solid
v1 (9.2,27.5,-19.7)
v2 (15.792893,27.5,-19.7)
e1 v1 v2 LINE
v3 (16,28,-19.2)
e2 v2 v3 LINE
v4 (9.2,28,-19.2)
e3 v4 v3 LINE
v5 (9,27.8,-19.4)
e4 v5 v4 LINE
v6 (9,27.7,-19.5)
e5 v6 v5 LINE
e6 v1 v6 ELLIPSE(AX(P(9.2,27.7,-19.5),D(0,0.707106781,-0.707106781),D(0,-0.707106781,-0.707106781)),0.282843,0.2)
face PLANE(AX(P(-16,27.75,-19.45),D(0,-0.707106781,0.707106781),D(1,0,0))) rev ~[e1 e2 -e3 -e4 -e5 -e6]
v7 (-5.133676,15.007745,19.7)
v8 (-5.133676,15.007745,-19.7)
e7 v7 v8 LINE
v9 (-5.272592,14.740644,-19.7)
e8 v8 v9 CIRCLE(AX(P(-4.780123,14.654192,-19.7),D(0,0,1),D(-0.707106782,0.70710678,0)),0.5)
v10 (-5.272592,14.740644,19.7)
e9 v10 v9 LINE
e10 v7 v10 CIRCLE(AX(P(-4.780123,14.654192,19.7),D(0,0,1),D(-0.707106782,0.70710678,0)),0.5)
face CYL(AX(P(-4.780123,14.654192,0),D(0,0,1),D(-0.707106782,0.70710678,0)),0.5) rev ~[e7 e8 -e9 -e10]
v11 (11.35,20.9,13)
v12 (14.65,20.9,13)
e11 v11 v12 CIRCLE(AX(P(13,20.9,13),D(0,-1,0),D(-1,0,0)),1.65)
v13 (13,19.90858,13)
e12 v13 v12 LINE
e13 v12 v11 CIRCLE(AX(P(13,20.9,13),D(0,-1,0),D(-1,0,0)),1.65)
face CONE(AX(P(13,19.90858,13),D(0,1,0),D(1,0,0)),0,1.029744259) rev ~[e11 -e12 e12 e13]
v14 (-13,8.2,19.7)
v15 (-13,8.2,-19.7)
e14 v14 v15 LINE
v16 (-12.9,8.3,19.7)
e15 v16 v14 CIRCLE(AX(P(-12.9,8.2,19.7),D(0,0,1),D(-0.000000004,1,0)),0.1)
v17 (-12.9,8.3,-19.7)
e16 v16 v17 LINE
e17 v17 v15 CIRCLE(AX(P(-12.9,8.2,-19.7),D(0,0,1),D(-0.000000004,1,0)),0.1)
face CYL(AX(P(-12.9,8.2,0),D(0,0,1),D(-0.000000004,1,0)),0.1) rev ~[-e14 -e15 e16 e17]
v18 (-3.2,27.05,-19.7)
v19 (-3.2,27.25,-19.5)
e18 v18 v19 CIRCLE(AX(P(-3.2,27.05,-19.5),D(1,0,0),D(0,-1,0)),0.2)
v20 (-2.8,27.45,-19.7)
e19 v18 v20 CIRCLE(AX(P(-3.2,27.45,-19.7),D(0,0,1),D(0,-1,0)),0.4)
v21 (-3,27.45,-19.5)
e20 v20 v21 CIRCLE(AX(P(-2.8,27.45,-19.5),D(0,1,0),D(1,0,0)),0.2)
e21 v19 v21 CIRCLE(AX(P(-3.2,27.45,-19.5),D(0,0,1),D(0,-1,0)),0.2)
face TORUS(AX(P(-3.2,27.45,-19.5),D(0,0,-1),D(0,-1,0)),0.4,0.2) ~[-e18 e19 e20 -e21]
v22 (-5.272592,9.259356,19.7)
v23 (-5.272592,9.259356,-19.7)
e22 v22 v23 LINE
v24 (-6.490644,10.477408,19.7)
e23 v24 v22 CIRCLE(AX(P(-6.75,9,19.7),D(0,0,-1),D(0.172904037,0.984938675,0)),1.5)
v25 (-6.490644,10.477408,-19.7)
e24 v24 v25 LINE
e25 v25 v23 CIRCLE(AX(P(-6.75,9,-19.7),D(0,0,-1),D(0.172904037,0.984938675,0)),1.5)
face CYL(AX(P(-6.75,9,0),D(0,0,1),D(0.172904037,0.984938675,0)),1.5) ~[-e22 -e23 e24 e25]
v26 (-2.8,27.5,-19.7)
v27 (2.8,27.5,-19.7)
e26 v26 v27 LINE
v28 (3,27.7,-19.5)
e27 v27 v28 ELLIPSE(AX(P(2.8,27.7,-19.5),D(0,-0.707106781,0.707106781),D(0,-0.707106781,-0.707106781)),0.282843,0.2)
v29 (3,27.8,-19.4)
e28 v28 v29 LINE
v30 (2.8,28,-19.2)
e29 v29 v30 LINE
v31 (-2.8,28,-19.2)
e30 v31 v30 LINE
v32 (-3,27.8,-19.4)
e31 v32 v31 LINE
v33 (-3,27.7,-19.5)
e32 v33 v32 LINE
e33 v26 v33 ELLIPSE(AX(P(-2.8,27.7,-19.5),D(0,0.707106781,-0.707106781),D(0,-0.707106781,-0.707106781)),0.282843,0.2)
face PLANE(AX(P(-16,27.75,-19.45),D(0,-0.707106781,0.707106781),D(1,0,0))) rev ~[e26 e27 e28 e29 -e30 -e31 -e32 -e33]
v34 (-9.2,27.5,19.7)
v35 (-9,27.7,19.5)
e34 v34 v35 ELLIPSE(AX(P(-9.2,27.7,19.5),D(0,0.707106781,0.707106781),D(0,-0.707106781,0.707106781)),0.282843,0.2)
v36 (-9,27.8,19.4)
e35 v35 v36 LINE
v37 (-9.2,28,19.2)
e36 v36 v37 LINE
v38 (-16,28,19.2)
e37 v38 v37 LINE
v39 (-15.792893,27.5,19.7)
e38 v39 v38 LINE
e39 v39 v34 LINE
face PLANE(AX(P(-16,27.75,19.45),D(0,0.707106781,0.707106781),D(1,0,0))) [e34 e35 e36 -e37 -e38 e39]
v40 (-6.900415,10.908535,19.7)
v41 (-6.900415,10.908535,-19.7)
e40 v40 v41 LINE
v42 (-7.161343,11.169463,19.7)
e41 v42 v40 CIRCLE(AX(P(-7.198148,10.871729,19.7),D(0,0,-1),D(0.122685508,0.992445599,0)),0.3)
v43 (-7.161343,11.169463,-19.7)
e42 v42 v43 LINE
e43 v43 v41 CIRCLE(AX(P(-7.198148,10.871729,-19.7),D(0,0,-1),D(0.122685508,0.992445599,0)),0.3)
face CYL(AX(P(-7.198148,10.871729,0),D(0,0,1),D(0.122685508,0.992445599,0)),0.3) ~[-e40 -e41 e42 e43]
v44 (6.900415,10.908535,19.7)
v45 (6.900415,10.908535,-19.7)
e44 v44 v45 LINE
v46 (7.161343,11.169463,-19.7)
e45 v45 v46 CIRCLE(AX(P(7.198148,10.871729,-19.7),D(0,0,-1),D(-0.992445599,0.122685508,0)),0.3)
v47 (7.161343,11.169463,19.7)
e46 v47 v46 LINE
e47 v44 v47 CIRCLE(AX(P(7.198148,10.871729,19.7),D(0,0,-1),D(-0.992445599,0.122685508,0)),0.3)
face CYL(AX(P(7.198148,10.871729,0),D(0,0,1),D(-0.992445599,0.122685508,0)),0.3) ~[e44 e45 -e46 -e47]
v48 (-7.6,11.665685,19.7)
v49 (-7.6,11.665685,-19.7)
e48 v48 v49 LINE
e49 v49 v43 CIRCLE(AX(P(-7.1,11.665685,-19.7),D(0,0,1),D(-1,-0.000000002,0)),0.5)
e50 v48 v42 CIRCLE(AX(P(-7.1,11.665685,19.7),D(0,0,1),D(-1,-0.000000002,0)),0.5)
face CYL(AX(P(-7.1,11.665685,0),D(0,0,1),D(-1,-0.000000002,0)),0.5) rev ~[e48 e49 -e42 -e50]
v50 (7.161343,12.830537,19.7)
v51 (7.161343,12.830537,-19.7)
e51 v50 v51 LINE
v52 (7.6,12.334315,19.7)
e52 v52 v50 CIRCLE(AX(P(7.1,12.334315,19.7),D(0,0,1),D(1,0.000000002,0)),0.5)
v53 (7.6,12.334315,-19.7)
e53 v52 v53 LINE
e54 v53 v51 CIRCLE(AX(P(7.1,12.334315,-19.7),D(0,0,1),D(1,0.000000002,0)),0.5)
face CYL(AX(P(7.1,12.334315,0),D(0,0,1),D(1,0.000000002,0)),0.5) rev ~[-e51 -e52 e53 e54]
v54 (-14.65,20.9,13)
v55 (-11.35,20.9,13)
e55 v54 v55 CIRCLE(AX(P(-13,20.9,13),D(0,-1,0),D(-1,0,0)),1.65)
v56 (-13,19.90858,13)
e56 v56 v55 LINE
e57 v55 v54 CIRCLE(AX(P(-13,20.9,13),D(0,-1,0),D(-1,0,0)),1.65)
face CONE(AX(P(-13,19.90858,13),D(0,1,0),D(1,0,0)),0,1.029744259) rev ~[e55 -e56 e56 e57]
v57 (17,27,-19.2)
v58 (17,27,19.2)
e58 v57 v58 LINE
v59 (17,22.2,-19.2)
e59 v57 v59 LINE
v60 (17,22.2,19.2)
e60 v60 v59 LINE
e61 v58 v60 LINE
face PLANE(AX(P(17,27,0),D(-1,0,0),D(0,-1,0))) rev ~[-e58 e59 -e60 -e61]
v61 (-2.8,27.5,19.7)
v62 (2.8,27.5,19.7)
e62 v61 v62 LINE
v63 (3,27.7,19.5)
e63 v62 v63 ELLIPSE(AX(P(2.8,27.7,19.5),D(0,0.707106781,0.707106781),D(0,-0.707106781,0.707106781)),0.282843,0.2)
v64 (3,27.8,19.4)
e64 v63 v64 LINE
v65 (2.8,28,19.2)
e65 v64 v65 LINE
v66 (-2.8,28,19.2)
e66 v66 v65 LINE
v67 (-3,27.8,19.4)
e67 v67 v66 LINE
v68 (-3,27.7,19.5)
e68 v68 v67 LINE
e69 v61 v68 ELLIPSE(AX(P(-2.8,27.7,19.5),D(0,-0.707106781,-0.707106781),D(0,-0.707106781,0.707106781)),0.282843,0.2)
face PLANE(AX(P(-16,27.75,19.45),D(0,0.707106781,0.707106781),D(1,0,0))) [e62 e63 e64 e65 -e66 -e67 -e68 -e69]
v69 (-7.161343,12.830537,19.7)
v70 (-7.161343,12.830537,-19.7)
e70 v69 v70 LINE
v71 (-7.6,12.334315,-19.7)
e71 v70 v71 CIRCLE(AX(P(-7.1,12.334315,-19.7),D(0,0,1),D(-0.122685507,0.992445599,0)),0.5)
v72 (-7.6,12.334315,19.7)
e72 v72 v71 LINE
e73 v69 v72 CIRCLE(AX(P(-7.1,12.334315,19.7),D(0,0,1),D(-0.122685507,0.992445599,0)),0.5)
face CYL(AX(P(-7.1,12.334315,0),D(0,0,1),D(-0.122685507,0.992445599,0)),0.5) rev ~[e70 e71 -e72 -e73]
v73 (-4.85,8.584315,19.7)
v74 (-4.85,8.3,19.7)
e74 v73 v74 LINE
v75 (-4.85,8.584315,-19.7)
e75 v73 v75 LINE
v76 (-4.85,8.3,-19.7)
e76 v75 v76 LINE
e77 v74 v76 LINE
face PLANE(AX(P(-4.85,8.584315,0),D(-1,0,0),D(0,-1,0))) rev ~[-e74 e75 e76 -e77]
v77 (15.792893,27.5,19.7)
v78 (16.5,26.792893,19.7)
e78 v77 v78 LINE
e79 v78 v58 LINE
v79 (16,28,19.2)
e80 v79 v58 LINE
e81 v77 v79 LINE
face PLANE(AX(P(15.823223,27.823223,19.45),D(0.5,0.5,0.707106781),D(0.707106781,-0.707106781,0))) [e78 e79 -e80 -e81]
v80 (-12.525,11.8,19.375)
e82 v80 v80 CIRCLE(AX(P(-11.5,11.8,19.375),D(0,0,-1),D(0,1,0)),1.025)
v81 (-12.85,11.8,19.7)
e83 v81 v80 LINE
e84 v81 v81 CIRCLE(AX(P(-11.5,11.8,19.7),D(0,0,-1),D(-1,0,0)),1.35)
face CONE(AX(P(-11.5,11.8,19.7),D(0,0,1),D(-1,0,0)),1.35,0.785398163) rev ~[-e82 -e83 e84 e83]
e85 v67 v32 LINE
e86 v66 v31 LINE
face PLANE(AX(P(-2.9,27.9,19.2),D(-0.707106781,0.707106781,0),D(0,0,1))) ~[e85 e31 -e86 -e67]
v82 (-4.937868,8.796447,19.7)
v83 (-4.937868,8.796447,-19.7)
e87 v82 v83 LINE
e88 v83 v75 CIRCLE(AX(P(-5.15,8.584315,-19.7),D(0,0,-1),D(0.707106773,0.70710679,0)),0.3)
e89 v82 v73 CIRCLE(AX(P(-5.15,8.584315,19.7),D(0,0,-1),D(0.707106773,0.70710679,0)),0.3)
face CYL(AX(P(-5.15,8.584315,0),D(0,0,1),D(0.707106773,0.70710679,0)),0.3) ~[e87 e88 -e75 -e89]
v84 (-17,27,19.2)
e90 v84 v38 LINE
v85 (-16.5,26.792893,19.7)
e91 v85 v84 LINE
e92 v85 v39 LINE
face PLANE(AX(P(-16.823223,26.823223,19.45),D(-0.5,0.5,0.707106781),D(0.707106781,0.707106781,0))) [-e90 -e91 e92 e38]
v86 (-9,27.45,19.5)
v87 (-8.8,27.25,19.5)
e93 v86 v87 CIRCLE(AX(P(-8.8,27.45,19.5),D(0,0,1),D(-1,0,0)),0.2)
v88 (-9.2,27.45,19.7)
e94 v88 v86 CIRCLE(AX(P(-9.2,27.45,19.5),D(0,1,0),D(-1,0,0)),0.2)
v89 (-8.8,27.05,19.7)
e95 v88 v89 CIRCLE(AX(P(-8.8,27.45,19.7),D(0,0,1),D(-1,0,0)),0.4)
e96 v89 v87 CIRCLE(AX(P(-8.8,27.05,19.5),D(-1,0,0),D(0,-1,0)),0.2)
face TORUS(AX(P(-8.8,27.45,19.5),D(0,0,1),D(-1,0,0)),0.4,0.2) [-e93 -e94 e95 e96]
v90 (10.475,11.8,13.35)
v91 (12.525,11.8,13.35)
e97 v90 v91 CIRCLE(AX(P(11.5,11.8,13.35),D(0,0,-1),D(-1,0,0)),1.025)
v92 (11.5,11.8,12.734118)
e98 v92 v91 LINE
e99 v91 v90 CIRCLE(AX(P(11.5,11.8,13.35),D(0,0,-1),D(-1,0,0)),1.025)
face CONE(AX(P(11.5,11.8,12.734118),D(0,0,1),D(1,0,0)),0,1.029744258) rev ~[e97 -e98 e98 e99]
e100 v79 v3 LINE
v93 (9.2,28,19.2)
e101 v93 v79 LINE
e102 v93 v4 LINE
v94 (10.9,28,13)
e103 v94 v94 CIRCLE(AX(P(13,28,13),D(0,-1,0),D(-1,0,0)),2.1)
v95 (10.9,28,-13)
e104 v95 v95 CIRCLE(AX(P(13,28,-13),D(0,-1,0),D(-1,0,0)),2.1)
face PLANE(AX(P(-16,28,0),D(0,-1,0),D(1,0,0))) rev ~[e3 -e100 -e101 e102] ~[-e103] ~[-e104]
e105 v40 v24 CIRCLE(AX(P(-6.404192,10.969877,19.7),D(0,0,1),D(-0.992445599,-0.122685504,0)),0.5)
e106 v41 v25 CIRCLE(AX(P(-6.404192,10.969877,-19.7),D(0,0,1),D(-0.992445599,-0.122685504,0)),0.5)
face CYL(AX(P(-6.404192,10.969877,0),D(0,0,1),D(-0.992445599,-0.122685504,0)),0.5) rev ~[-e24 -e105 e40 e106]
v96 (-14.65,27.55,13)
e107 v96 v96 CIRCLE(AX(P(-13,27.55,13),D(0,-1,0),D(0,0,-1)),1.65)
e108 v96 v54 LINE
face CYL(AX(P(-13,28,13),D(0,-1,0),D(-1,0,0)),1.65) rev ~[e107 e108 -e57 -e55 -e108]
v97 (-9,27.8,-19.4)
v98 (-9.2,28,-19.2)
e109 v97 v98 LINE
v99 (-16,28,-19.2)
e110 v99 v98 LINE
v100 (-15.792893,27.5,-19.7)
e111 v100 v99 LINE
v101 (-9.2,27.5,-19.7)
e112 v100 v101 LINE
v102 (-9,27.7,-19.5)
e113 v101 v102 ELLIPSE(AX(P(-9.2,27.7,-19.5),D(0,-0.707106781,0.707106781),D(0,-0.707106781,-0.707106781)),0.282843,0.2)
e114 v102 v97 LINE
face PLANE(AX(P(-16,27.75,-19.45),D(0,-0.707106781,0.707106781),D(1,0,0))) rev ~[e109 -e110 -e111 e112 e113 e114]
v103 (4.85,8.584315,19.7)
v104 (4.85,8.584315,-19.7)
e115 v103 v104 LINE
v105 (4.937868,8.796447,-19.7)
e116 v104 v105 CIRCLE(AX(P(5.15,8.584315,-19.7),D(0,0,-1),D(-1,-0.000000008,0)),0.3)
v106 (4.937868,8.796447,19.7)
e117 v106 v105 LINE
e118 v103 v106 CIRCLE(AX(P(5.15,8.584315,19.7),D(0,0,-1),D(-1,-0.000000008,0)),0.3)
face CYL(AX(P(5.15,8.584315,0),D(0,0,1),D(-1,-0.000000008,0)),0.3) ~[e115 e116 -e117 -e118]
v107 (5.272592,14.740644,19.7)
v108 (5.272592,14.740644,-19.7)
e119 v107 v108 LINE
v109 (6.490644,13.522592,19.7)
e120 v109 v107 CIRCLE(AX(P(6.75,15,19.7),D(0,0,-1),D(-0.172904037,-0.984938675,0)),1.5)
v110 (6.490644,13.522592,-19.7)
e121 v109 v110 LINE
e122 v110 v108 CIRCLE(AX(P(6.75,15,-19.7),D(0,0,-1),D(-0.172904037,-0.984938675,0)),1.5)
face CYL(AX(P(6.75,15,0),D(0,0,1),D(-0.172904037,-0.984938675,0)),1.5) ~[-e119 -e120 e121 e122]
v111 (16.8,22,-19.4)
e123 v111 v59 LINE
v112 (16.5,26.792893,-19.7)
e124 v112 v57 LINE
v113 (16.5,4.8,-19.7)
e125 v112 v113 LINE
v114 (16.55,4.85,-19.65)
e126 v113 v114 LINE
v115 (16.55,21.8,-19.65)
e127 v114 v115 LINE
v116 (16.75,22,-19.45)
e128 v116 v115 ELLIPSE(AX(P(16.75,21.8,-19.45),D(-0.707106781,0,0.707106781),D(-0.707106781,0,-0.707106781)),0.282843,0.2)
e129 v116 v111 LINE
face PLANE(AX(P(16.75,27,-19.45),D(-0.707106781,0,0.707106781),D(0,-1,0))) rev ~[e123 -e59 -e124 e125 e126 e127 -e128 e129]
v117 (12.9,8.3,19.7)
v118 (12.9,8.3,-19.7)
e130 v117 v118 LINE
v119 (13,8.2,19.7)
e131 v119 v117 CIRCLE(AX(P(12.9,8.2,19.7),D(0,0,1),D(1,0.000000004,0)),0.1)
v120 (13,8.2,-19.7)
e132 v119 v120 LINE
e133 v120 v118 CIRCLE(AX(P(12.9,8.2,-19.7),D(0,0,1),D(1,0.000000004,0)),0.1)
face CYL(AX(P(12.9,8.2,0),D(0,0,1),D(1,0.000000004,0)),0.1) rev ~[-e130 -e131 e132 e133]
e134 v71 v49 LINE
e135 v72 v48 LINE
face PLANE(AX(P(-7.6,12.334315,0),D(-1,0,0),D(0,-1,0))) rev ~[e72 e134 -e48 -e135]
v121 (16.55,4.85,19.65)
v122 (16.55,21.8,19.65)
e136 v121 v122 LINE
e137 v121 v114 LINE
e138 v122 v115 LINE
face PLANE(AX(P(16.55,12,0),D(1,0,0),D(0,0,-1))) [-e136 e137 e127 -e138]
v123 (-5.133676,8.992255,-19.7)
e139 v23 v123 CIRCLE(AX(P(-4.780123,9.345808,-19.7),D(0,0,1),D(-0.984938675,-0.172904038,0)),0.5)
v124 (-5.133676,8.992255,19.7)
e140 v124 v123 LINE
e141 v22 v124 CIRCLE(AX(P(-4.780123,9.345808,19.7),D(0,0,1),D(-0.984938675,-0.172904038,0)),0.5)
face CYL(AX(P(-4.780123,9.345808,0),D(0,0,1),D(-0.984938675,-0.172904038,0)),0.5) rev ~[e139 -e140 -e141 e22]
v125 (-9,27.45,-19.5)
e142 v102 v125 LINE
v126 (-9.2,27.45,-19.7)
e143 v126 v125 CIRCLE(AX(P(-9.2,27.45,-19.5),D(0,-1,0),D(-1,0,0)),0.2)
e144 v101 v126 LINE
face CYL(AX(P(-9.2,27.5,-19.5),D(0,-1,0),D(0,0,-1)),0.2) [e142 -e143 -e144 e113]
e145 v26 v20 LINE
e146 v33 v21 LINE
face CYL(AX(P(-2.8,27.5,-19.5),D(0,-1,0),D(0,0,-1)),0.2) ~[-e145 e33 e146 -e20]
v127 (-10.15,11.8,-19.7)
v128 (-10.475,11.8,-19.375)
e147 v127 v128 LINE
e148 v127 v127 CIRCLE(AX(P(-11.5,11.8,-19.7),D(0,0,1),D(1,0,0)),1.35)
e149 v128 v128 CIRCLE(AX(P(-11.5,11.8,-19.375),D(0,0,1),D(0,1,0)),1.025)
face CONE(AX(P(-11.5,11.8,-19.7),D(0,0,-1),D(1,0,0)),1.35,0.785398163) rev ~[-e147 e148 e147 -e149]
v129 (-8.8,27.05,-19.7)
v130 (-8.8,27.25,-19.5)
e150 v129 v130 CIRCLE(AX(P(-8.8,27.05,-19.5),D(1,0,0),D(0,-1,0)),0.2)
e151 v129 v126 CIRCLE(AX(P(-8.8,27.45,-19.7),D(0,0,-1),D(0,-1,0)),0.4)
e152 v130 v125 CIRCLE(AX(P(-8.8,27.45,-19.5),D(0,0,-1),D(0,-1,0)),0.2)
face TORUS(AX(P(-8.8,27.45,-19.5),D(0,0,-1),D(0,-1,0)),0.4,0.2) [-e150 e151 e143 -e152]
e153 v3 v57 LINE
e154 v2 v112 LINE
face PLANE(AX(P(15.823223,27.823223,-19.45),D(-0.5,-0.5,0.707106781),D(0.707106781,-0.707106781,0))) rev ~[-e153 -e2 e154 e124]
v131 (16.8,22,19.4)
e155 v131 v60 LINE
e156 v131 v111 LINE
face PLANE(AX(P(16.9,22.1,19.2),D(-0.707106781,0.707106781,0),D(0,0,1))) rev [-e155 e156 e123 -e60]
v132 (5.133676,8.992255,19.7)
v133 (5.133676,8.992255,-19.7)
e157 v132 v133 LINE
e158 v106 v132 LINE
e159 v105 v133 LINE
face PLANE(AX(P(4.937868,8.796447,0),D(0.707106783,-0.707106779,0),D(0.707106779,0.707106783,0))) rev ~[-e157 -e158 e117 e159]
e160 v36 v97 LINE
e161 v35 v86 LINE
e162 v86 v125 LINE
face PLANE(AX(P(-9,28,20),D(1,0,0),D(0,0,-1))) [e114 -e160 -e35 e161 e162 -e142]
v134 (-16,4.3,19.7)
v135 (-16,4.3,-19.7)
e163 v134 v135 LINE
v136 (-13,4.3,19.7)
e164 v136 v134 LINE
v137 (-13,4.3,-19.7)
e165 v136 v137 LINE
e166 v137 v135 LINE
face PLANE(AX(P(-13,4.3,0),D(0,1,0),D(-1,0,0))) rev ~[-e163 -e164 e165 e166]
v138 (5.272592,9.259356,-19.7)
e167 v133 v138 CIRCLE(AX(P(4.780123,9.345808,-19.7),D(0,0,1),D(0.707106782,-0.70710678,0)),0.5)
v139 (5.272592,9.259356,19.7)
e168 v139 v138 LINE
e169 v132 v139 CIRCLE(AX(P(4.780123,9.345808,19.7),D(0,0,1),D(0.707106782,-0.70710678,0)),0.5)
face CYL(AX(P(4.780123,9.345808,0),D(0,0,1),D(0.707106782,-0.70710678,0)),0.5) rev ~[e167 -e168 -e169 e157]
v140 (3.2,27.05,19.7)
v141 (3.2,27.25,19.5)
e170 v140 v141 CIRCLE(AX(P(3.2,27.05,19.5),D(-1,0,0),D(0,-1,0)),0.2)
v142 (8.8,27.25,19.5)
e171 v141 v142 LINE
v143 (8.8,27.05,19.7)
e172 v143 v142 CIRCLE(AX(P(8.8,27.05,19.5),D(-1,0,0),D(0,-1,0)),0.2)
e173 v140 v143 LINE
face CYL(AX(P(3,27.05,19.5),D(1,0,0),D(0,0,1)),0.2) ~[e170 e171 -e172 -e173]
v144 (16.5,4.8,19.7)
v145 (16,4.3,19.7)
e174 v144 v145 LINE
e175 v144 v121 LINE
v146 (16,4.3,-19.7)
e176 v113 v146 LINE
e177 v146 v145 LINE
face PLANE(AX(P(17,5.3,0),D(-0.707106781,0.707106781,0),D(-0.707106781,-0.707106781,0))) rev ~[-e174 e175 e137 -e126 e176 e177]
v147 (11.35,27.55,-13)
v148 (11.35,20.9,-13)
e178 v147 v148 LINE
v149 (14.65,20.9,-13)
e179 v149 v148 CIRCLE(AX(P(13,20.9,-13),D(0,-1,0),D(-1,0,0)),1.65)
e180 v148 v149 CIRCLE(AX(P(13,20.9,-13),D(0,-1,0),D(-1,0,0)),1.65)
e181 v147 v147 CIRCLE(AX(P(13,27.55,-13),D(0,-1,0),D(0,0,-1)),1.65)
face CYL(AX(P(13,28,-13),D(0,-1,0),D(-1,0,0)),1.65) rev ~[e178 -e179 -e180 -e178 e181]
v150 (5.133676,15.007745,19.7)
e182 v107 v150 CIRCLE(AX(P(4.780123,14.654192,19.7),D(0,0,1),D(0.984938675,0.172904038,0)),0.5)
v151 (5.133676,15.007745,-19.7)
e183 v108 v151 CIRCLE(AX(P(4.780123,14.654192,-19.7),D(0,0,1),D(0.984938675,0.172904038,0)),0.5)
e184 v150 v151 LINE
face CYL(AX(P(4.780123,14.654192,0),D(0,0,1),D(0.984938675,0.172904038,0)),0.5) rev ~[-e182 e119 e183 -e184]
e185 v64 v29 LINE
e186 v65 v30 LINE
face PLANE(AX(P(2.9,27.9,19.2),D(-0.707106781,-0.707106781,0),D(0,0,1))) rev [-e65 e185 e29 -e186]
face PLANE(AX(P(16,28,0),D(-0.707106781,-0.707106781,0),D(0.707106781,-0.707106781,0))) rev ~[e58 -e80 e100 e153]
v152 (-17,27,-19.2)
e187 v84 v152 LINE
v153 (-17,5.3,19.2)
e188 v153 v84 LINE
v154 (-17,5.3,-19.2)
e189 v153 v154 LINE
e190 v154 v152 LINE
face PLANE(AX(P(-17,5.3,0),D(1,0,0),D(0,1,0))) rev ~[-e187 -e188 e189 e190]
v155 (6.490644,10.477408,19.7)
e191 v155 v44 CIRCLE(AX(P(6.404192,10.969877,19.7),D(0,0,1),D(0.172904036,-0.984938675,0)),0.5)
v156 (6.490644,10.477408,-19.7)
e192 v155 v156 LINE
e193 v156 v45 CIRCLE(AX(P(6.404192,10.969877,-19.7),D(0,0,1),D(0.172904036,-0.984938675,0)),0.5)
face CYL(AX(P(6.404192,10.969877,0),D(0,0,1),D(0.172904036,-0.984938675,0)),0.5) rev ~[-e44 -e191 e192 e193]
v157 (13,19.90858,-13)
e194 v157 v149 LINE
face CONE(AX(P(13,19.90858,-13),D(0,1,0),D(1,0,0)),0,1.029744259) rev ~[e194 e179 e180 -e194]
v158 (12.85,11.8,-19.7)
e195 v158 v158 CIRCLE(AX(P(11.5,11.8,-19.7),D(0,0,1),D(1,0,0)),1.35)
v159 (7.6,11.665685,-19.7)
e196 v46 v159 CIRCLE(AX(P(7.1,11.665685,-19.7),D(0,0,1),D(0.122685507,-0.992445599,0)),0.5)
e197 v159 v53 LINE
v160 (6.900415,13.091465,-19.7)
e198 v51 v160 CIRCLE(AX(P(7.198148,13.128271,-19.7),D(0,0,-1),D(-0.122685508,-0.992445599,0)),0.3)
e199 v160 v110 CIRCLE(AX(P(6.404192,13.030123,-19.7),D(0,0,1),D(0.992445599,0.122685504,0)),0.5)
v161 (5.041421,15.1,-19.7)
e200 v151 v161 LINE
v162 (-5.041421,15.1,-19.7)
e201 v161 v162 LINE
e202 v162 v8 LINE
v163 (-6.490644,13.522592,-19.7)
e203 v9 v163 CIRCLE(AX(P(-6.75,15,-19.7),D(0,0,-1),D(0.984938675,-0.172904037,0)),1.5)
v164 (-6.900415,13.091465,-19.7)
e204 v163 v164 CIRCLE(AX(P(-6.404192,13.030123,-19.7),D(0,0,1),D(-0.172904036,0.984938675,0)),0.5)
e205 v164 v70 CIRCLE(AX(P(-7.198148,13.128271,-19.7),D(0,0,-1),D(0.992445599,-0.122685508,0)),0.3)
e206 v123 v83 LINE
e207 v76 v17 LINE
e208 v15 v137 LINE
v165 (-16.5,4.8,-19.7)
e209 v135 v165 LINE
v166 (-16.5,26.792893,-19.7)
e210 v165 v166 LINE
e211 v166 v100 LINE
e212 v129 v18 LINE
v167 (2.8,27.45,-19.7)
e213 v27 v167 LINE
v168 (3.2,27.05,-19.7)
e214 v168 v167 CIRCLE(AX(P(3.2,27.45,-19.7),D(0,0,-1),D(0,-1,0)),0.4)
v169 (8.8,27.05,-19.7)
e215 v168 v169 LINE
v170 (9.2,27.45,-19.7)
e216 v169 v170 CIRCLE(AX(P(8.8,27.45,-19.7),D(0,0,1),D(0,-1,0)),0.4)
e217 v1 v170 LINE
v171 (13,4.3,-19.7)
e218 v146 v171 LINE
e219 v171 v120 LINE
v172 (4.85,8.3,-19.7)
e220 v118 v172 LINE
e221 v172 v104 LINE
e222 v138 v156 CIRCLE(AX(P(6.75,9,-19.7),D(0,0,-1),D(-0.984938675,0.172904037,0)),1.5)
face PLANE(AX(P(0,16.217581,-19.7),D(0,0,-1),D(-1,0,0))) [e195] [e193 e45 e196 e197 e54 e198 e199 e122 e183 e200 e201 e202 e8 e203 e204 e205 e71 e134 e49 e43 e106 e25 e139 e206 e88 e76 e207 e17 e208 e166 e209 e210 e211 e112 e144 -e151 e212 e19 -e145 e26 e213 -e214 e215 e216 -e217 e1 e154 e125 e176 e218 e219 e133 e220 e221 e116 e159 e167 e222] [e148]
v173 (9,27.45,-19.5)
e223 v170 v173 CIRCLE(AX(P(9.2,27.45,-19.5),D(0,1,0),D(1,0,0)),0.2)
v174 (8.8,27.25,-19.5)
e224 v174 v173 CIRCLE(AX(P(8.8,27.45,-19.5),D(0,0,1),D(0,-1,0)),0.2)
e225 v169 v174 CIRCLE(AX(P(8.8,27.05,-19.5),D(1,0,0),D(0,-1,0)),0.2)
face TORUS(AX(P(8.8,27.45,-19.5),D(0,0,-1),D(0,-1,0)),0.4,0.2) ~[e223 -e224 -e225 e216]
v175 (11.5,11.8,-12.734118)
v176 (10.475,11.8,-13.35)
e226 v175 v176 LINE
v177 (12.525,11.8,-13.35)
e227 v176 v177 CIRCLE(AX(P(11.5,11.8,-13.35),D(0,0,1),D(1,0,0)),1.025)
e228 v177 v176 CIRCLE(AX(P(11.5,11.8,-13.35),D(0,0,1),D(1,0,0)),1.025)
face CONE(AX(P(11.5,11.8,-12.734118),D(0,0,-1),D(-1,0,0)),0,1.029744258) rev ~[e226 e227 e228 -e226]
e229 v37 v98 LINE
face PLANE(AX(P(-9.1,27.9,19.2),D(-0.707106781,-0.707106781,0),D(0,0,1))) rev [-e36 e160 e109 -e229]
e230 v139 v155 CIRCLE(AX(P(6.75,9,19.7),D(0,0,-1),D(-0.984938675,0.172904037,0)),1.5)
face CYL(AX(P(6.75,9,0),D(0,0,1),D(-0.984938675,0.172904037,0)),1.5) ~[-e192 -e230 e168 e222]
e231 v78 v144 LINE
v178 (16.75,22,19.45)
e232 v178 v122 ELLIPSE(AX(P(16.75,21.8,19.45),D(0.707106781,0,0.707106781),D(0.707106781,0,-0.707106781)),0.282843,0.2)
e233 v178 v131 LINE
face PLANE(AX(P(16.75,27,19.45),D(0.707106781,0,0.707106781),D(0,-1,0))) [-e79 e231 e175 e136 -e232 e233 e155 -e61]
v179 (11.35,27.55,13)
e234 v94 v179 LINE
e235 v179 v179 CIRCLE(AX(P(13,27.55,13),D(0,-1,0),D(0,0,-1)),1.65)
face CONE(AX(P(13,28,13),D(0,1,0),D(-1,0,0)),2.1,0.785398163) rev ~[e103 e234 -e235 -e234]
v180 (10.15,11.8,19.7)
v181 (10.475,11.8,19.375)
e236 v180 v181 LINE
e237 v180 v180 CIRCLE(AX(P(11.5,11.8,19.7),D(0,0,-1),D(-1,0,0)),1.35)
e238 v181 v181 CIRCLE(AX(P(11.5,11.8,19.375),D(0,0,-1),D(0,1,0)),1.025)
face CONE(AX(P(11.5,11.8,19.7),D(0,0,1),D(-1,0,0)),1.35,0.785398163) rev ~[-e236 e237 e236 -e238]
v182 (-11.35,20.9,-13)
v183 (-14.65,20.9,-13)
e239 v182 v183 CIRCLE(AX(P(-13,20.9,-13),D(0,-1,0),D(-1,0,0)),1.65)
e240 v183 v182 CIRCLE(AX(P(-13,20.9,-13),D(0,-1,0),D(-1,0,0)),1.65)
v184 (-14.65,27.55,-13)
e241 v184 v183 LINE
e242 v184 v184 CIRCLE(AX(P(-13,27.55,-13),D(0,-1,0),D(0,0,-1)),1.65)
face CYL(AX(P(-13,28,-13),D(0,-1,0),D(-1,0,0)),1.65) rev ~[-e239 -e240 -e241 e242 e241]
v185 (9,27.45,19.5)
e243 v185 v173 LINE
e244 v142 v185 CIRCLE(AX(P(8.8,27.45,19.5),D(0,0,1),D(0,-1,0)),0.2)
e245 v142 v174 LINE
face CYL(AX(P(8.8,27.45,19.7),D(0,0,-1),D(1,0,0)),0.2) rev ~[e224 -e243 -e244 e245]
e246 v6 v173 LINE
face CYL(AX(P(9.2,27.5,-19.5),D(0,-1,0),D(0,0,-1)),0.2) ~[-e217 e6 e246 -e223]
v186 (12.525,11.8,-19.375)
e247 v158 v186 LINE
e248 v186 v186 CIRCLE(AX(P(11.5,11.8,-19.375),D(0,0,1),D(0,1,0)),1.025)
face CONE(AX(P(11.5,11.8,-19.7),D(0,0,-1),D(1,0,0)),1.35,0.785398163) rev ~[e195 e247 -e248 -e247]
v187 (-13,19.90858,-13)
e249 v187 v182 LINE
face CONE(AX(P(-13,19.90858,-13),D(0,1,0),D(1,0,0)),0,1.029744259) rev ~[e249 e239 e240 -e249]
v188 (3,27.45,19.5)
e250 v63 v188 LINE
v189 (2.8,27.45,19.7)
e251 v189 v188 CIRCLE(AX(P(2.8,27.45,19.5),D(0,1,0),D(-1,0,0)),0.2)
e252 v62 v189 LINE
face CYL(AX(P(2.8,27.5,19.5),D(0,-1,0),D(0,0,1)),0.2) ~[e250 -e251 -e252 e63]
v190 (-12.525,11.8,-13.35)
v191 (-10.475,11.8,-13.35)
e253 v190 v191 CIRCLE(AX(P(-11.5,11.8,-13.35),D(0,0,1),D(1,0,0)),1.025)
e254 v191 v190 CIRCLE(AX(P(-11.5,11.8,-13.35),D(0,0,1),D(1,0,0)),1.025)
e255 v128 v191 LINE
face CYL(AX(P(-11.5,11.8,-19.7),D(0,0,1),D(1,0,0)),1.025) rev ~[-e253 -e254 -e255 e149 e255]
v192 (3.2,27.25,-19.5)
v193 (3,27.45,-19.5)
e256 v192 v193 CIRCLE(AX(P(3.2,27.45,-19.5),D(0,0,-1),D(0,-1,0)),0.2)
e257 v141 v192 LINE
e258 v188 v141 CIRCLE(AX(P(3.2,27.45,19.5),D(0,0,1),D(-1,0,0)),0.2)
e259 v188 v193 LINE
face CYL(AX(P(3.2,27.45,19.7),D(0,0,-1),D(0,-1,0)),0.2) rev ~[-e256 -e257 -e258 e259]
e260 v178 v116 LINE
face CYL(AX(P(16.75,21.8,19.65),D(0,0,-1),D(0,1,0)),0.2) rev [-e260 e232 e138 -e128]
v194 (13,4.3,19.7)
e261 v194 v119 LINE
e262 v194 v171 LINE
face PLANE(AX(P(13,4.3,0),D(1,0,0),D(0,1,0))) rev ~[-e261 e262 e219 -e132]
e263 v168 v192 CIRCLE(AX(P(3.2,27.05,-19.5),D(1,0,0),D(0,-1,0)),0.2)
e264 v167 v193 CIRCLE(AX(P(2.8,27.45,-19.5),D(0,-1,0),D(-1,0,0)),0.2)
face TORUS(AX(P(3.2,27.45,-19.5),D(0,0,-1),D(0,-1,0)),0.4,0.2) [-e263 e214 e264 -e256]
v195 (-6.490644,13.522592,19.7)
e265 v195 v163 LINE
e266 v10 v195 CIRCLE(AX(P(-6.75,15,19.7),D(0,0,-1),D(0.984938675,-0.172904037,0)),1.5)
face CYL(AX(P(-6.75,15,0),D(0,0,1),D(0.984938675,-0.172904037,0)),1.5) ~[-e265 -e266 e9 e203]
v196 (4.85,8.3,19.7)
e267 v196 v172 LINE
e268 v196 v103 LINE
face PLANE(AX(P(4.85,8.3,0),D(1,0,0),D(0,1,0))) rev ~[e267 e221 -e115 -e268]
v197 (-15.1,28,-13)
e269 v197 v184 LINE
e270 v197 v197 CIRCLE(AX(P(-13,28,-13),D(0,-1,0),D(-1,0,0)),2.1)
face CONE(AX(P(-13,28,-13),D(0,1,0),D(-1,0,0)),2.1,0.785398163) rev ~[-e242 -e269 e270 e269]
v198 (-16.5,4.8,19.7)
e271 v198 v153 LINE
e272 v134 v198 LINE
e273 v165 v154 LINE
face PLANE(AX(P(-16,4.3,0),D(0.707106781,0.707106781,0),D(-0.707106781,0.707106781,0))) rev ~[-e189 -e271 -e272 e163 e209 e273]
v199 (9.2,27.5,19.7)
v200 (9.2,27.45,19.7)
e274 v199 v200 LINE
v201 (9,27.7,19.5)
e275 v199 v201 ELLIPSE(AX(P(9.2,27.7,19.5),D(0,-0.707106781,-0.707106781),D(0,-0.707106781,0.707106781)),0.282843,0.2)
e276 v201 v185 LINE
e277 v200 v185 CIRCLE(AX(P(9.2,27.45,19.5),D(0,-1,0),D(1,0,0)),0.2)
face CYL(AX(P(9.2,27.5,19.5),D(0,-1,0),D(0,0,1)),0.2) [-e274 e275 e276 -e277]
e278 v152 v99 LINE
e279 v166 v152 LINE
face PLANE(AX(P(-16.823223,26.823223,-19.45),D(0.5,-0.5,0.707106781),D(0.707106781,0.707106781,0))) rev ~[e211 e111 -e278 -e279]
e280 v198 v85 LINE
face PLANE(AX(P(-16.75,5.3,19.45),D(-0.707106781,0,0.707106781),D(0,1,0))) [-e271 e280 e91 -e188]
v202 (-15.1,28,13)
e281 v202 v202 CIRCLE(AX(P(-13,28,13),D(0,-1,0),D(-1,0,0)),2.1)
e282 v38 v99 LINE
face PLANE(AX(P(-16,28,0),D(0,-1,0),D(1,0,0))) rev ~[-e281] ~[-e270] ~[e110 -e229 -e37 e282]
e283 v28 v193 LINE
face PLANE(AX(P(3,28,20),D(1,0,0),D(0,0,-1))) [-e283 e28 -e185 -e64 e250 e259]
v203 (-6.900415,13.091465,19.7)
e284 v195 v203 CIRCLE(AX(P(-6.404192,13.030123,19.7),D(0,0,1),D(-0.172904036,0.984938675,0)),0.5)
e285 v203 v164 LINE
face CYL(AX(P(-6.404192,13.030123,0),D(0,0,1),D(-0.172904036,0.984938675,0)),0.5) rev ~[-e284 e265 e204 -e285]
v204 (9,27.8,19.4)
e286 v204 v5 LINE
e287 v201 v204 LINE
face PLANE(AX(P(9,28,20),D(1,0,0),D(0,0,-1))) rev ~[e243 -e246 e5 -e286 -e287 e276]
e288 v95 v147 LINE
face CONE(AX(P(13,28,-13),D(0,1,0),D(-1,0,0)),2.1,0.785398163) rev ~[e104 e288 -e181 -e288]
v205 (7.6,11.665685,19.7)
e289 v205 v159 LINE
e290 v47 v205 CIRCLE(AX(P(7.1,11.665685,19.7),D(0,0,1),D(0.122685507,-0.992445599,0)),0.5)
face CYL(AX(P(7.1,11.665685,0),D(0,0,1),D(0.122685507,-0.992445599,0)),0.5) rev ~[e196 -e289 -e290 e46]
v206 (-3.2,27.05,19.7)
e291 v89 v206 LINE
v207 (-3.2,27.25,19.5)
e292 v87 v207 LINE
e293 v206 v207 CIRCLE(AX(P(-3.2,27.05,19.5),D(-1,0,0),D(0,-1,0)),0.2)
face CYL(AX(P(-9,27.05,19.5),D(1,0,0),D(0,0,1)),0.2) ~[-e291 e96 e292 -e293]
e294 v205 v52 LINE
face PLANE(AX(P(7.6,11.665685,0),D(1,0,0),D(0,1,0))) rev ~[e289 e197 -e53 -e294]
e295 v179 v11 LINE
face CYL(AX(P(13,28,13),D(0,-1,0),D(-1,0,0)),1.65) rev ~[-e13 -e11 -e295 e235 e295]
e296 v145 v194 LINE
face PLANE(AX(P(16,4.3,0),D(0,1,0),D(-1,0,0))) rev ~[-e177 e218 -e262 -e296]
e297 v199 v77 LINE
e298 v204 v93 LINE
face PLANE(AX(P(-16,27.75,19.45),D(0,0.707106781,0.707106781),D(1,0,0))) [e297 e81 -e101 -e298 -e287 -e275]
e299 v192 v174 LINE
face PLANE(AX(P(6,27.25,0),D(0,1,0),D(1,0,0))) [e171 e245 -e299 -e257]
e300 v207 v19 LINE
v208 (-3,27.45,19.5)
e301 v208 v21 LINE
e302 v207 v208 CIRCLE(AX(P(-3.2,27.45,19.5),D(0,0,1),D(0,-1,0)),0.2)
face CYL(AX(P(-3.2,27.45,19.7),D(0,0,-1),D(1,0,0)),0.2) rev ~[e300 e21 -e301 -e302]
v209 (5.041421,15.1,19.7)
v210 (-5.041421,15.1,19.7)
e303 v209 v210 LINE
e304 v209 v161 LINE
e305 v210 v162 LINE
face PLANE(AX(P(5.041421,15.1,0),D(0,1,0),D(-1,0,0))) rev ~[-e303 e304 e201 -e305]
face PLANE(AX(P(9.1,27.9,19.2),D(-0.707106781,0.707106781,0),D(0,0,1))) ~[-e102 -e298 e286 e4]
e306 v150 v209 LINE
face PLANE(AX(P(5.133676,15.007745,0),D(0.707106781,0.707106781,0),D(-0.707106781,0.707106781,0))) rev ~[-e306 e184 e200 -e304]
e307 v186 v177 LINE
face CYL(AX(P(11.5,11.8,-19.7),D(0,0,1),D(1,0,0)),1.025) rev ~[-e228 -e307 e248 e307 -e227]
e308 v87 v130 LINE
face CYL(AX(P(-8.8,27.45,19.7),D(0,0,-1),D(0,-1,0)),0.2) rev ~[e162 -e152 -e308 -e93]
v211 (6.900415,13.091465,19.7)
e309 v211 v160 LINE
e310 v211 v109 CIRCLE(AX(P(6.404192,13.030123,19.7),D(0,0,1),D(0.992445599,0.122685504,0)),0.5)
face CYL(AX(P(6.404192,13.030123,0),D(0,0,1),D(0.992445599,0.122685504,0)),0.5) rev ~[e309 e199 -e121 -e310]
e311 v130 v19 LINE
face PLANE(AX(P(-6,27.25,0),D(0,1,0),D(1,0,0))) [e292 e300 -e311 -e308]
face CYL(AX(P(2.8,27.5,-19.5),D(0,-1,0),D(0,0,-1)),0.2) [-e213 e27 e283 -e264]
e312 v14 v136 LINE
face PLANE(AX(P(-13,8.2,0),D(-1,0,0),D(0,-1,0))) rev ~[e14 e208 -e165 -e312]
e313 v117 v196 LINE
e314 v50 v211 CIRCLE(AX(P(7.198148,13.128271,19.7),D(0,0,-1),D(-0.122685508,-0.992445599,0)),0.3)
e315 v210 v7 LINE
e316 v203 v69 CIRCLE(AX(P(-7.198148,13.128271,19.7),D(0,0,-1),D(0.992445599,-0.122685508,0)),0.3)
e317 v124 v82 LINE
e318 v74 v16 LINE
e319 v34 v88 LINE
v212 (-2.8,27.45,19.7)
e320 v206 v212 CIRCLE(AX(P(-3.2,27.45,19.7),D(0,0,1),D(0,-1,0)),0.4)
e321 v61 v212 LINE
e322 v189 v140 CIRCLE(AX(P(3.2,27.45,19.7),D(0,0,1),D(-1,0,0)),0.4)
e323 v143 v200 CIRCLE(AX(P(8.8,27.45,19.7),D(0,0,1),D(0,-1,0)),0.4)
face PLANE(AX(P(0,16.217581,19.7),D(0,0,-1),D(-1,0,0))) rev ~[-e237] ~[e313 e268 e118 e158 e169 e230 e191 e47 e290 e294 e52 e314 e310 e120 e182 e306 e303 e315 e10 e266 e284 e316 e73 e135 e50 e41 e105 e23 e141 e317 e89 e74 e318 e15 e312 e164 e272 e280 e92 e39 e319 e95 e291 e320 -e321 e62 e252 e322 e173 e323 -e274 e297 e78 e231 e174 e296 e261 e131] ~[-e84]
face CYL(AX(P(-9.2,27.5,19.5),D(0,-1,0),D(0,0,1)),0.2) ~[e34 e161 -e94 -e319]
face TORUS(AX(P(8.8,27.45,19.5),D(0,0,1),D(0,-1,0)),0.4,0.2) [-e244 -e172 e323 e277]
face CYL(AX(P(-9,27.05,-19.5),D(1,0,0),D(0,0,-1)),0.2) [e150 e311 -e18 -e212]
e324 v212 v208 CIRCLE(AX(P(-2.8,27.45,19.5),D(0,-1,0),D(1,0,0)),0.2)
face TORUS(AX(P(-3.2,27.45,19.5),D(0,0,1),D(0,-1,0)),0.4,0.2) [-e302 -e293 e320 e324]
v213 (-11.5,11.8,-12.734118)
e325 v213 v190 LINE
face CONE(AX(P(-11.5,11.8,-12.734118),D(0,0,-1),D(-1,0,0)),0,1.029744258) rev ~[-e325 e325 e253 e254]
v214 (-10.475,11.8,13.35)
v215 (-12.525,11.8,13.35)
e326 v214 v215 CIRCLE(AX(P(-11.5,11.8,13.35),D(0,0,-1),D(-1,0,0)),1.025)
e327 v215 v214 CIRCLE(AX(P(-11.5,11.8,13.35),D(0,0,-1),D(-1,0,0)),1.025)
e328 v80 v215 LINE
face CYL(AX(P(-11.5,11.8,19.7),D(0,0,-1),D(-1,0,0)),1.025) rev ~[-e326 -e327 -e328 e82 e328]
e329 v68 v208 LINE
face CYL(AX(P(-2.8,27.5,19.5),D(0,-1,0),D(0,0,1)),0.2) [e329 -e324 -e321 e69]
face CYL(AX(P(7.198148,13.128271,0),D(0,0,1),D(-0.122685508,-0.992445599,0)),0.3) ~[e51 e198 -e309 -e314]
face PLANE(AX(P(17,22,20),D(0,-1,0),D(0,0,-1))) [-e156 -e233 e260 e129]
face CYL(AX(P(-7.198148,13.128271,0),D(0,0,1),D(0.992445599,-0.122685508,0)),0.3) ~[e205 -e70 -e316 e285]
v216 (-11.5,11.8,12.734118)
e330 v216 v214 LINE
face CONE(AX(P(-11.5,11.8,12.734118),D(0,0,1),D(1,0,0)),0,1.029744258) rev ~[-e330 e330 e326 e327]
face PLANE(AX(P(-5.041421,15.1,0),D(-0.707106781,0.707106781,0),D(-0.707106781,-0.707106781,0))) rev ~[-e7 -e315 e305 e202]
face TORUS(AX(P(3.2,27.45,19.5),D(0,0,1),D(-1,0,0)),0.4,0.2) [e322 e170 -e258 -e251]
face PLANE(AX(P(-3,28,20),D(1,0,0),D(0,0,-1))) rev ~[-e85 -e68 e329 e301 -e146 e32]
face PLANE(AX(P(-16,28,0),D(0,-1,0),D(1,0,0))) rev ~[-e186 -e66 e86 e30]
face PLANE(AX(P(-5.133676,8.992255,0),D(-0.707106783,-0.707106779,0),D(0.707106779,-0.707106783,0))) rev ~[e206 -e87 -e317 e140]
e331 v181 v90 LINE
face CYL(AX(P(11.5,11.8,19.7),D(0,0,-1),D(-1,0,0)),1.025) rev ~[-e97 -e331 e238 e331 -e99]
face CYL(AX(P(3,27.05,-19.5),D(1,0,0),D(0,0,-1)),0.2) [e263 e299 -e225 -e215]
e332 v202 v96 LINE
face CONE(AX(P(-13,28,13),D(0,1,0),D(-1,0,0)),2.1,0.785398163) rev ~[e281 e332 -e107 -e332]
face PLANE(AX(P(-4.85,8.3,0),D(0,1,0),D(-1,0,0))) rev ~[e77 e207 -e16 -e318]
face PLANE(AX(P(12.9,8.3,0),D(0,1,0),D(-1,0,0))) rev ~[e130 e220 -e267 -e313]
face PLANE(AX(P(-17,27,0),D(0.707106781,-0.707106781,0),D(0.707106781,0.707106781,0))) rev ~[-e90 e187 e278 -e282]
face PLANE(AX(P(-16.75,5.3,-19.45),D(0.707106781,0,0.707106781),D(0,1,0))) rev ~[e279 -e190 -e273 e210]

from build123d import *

# Parameters (mm, degrees)
BLOCK_BODY_DEPTH                       = 19.7
SIDE_REFERENCE_SKETCH_W                = 40
SIDE_REFERENCE_SKETCH_H                = 20
SIDE_REFERENCE_DEPTH                   = 0.45
AESTHETIC_CHAMFER_1_SIZE               = 0.5
CASTING_GROOVE_SKETCH_W                = 6
CASTING_GROOVE_SKETCH_H                = 40
CASTING_GOORVE_DEPTH                   = 0.75
AESTHETIC_CHAMFER_2_SIZE               = 0.2
PRODUCTION_FILLET_R                    = 0.2
FIXING_HOLES_D                         = 3.3
FIXING_HOLES_DEPTH                     = 7.1
FIXING_HOLES_CSINK_D                   = 4.2
FIXING_HOLES_CSINK_ANGLE               = 90
FIXING_HOLES_TIP                       = 0.991420021
END_CAP_FIXING_HOLES_FRONT_D           = 2.05
END_CAP_FIXING_HOLES_FRONT_DEPTH       = 6.35
END_CAP_FIXING_HOLES_FRONT_CSINK_D     = 2.7
END_CAP_FIXING_HOLES_FRONT_CSINK_ANGLE = 90
END_CAP_FIXING_HOLES_FRONT_TIP         = 0.615882135
END_CAP_FIXING_HOLES_BACK_D            = 2.05
END_CAP_FIXING_HOLES_BACK_DEPTH        = 6.35
END_CAP_FIXING_HOLES_BACK_CSINK_D      = 2.7
END_CAP_FIXING_HOLES_BACK_CSINK_ANGLE  = 90
END_CAP_FIXING_HOLES_BACK_TIP          = 0.615882135


with BuildPart() as part:
    # Block Profile → Block Body (new body, symmetric)
    with BuildSketch(Plane.XY):
        with BuildLine():
            Line((16, 4.3), (13, 4.3))
            Line((13, 4.3), (13, 8.2))
            ThreePointArc((13, 8.2), (12.970710678, 8.270710678), (12.9, 8.3))
            Line((12.9, 8.3), (4.85, 8.3))
            Line((4.85, 8.3), (4.85, 8.584314575))
            ThreePointArc((4.85, 8.584314575), (4.87283614, 8.699119605), (4.937867966, 8.796446609))
            Line((4.937867966, 8.796446609), (5.13367604, 8.992254684))
            ThreePointArc((5.13367604, 8.992254684), (5.223715255, 9.115101334), (5.272591987, 9.259356056))
            ThreePointArc((5.272591987, 9.259356056), (5.689339828, 10.060660172), (6.490643944, 10.477408013))
            ThreePointArc((6.490643944, 10.477408013), (6.766607459, 10.625414027), (6.900414725, 10.908534598))
            ThreePointArc((6.900414725, 10.908534598), (6.98601637, 11.08386098), (7.161342753, 11.169462626))
            ThreePointArc((7.161342753, 11.169462626), (7.474614052, 11.334529402), (7.6, 11.665685425))
            Line((7.6, 11.665685425), (7.6, 12.334314575))
            ThreePointArc((7.6, 12.334314575), (7.474614052, 12.665470598), (7.161342753, 12.830537374))
            ThreePointArc((7.161342753, 12.830537374), (6.98601637, 12.91613902), (6.900414725, 13.091465402))
            ThreePointArc((6.900414725, 13.091465402), (6.766607459, 13.374585973), (6.490643944, 13.522591987))
            ThreePointArc((6.490643944, 13.522591987), (5.689339828, 13.939339828), (5.272591987, 14.740643944))
            ThreePointArc((5.272591987, 14.740643944), (5.223715255, 14.884898666), (5.13367604, 15.007745316))
            Line((5.13367604, 15.007745316), (5.041421356, 15.1))
            Line((5.041421356, 15.1), (-5.041421356, 15.1))
            Line((-5.041421356, 15.1), (-5.13367604, 15.007745316))
            ThreePointArc((-5.13367604, 15.007745316), (-5.223715255, 14.884898666), (-5.272591987, 14.740643944))
            ThreePointArc((-5.272591987, 14.740643944), (-5.689339828, 13.939339828), (-6.490643944, 13.522591987))
            ThreePointArc((-6.490643944, 13.522591987), (-6.766607459, 13.374585973), (-6.900414725, 13.091465402))
            ThreePointArc((-6.900414725, 13.091465402), (-6.98601637, 12.91613902), (-7.161342753, 12.830537374))
            ThreePointArc((-7.161342753, 12.830537374), (-7.474614052, 12.665470598), (-7.6, 12.334314575))
            Line((-7.6, 12.334314575), (-7.6, 11.665685425))
            ThreePointArc((-7.6, 11.665685425), (-7.474614052, 11.334529402), (-7.161342753, 11.169462626))
            ThreePointArc((-7.161342753, 11.169462626), (-6.98601637, 11.08386098), (-6.900414725, 10.908534598))
            ThreePointArc((-6.900414725, 10.908534598), (-6.766607459, 10.625414027), (-6.490643944, 10.477408013))
            ThreePointArc((-6.490643944, 10.477408013), (-5.689339828, 10.060660172), (-5.272591987, 9.259356056))
            ThreePointArc((-5.272591987, 9.259356056), (-5.223715255, 9.115101334), (-5.13367604, 8.992254684))
            Line((-5.13367604, 8.992254684), (-4.937867966, 8.796446609))
            ThreePointArc((-4.937867966, 8.796446609), (-4.87283614, 8.699119605), (-4.85, 8.584314575))
            Line((-4.85, 8.584314575), (-4.85, 8.3))
            Line((-4.85, 8.3), (-12.9, 8.3))
            ThreePointArc((-12.9, 8.3), (-12.970710678, 8.270710678), (-13, 8.2))
            Line((-13, 8.2), (-13, 4.3))
            Line((-13, 4.3), (-16, 4.3))
            Line((-16, 4.3), (-17, 5.3))
            Line((-17, 5.3), (-17, 27))
            Line((-17, 27), (-16, 28))
            Line((-16, 28), (16, 28))
            Line((16, 28), (17, 27))
            Line((17, 27), (17, 5.3))
            Line((17, 5.3), (16, 4.3))
        make_face()
    extrude(amount=BLOCK_BODY_DEPTH, both=True)

    # Side Reference Sketch → Side Reference (cut)
    with BuildSketch(Plane(origin=(17, 0, 0), x_dir=(0, 0, -1), z_dir=(1, 0, 0))):
        with Locations((0, 12)):
            Rectangle(SIDE_REFERENCE_SKETCH_W, SIDE_REFERENCE_SKETCH_H)
    extrude(amount=-SIDE_REFERENCE_DEPTH, mode=Mode.SUBTRACT)

    # Aesthetic Chamfer 1
    aesthetic_chamfer_1_edges = [part.edges().sort_by_distance(p)[0] for p in [
        (-17, 16.15, -19.7),
        (-16.5, 27.5, -19.7),
        (0, 28, -19.7),
        (16.5, 27.5, -19.7),
        (17, 24.5, -19.7),
        (-17, 16.15, 19.7),
        (-16.5, 27.5, 19.7),
        (17, 24.5, 19.7),
        (16.5, 27.5, 19.7),
        (0, 28, 19.7),
    ]]
    chamfer(aesthetic_chamfer_1_edges, length=AESTHETIC_CHAMFER_1_SIZE)

    # Casting Groove Sketch → Casting Goorve (cut)
    with BuildSketch(Plane(origin=(0, 28, 0), x_dir=(1, 0, 0), z_dir=(0, 1, 0))):
        with Locations((-6, 0)):
            Rectangle(CASTING_GROOVE_SKETCH_W, CASTING_GROOVE_SKETCH_H)
        with Locations((6, 0)):
            Rectangle(CASTING_GROOVE_SKETCH_W, CASTING_GROOVE_SKETCH_H)
    extrude(amount=-CASTING_GOORVE_DEPTH, mode=Mode.SUBTRACT)

    # Aesthetic Chamfer 2
    aesthetic_chamfer_2_edges = [part.edges().sort_by_distance(p)[0] for p in [
        (17, 22, 0),
        (-9, 28, 0),
        (-3, 28, 0),
        (3, 28, 0),
        (9, 28, 0),
    ]]
    chamfer(aesthetic_chamfer_2_edges, length=AESTHETIC_CHAMFER_2_SIZE)

    # Production Fillet
    production_fillet_edges = [part.edges().sort_by_distance(p)[0] for p in [
        (16.55, 22, 0),
        (6, 27.25, -19.7),
        (-6, 27.25, -19.7),
        (-3, 27.375, -19.7),
        (-3, 27.375, 19.7),
        (-3, 27.25, 0),
        (-9, 27.375, -19.7),
        (-9, 27.25, 0),
        (-9, 27.375, 19.7),
        (-6, 27.25, 19.7),
        (9, 27.375, -19.7),
        (9, 27.375, 19.7),
        (9, 27.25, 0),
        (3, 27.375, -19.7),
        (3, 27.25, 0),
        (3, 27.375, 19.7),
        (6, 27.25, 19.7),
    ]]
    fillet(production_fillet_edges, radius=PRODUCTION_FILLET_R)

    # Fixing Holes
    with Locations(Plane(origin=(0, 28, 0), x_dir=(1, 0, 0), z_dir=(0, 1, 0))):
        with Locations((-13, -13), (-13, 13), (13, 13), (13, -13)):
            CounterSinkHole(FIXING_HOLES_D / 2, FIXING_HOLES_CSINK_D / 2, depth=FIXING_HOLES_DEPTH, counter_sink_angle=FIXING_HOLES_CSINK_ANGLE)
            with Locations((0, 0, -(FIXING_HOLES_DEPTH + FIXING_HOLES_TIP / 2))):  # 118° drill point
                Cone(0, FIXING_HOLES_D / 2, FIXING_HOLES_TIP, mode=Mode.SUBTRACT)

    # End Cap Fixing Holes Front
    with Locations(Plane.XY.offset(19.7)):
        with Locations((-11.5, 11.8), (11.5, 11.8)):
            CounterSinkHole(END_CAP_FIXING_HOLES_FRONT_D / 2, END_CAP_FIXING_HOLES_FRONT_CSINK_D / 2, depth=END_CAP_FIXING_HOLES_FRONT_DEPTH, counter_sink_angle=END_CAP_FIXING_HOLES_FRONT_CSINK_ANGLE)
            with Locations((0, 0, -(END_CAP_FIXING_HOLES_FRONT_DEPTH + END_CAP_FIXING_HOLES_FRONT_TIP / 2))):  # 118° drill point
                Cone(0, END_CAP_FIXING_HOLES_FRONT_D / 2, END_CAP_FIXING_HOLES_FRONT_TIP, mode=Mode.SUBTRACT)

    # End Cap Fixing Holes Back
    with Locations(Plane(origin=(0, 0, -19.7), x_dir=(-1, 0, 0), z_dir=(0, 0, -1))):
        with Locations((-11.5, 11.8), (11.5, 11.8)):
            CounterSinkHole(END_CAP_FIXING_HOLES_BACK_D / 2, END_CAP_FIXING_HOLES_BACK_CSINK_D / 2, depth=END_CAP_FIXING_HOLES_BACK_DEPTH, counter_sink_angle=END_CAP_FIXING_HOLES_BACK_CSINK_ANGLE)
            with Locations((0, 0, -(END_CAP_FIXING_HOLES_BACK_DEPTH + END_CAP_FIXING_HOLES_BACK_TIP / 2))):  # 118° drill point
                Cone(0, END_CAP_FIXING_HOLES_BACK_D / 2, END_CAP_FIXING_HOLES_BACK_TIP, mode=Mode.SUBTRACT)


solid = part.part
